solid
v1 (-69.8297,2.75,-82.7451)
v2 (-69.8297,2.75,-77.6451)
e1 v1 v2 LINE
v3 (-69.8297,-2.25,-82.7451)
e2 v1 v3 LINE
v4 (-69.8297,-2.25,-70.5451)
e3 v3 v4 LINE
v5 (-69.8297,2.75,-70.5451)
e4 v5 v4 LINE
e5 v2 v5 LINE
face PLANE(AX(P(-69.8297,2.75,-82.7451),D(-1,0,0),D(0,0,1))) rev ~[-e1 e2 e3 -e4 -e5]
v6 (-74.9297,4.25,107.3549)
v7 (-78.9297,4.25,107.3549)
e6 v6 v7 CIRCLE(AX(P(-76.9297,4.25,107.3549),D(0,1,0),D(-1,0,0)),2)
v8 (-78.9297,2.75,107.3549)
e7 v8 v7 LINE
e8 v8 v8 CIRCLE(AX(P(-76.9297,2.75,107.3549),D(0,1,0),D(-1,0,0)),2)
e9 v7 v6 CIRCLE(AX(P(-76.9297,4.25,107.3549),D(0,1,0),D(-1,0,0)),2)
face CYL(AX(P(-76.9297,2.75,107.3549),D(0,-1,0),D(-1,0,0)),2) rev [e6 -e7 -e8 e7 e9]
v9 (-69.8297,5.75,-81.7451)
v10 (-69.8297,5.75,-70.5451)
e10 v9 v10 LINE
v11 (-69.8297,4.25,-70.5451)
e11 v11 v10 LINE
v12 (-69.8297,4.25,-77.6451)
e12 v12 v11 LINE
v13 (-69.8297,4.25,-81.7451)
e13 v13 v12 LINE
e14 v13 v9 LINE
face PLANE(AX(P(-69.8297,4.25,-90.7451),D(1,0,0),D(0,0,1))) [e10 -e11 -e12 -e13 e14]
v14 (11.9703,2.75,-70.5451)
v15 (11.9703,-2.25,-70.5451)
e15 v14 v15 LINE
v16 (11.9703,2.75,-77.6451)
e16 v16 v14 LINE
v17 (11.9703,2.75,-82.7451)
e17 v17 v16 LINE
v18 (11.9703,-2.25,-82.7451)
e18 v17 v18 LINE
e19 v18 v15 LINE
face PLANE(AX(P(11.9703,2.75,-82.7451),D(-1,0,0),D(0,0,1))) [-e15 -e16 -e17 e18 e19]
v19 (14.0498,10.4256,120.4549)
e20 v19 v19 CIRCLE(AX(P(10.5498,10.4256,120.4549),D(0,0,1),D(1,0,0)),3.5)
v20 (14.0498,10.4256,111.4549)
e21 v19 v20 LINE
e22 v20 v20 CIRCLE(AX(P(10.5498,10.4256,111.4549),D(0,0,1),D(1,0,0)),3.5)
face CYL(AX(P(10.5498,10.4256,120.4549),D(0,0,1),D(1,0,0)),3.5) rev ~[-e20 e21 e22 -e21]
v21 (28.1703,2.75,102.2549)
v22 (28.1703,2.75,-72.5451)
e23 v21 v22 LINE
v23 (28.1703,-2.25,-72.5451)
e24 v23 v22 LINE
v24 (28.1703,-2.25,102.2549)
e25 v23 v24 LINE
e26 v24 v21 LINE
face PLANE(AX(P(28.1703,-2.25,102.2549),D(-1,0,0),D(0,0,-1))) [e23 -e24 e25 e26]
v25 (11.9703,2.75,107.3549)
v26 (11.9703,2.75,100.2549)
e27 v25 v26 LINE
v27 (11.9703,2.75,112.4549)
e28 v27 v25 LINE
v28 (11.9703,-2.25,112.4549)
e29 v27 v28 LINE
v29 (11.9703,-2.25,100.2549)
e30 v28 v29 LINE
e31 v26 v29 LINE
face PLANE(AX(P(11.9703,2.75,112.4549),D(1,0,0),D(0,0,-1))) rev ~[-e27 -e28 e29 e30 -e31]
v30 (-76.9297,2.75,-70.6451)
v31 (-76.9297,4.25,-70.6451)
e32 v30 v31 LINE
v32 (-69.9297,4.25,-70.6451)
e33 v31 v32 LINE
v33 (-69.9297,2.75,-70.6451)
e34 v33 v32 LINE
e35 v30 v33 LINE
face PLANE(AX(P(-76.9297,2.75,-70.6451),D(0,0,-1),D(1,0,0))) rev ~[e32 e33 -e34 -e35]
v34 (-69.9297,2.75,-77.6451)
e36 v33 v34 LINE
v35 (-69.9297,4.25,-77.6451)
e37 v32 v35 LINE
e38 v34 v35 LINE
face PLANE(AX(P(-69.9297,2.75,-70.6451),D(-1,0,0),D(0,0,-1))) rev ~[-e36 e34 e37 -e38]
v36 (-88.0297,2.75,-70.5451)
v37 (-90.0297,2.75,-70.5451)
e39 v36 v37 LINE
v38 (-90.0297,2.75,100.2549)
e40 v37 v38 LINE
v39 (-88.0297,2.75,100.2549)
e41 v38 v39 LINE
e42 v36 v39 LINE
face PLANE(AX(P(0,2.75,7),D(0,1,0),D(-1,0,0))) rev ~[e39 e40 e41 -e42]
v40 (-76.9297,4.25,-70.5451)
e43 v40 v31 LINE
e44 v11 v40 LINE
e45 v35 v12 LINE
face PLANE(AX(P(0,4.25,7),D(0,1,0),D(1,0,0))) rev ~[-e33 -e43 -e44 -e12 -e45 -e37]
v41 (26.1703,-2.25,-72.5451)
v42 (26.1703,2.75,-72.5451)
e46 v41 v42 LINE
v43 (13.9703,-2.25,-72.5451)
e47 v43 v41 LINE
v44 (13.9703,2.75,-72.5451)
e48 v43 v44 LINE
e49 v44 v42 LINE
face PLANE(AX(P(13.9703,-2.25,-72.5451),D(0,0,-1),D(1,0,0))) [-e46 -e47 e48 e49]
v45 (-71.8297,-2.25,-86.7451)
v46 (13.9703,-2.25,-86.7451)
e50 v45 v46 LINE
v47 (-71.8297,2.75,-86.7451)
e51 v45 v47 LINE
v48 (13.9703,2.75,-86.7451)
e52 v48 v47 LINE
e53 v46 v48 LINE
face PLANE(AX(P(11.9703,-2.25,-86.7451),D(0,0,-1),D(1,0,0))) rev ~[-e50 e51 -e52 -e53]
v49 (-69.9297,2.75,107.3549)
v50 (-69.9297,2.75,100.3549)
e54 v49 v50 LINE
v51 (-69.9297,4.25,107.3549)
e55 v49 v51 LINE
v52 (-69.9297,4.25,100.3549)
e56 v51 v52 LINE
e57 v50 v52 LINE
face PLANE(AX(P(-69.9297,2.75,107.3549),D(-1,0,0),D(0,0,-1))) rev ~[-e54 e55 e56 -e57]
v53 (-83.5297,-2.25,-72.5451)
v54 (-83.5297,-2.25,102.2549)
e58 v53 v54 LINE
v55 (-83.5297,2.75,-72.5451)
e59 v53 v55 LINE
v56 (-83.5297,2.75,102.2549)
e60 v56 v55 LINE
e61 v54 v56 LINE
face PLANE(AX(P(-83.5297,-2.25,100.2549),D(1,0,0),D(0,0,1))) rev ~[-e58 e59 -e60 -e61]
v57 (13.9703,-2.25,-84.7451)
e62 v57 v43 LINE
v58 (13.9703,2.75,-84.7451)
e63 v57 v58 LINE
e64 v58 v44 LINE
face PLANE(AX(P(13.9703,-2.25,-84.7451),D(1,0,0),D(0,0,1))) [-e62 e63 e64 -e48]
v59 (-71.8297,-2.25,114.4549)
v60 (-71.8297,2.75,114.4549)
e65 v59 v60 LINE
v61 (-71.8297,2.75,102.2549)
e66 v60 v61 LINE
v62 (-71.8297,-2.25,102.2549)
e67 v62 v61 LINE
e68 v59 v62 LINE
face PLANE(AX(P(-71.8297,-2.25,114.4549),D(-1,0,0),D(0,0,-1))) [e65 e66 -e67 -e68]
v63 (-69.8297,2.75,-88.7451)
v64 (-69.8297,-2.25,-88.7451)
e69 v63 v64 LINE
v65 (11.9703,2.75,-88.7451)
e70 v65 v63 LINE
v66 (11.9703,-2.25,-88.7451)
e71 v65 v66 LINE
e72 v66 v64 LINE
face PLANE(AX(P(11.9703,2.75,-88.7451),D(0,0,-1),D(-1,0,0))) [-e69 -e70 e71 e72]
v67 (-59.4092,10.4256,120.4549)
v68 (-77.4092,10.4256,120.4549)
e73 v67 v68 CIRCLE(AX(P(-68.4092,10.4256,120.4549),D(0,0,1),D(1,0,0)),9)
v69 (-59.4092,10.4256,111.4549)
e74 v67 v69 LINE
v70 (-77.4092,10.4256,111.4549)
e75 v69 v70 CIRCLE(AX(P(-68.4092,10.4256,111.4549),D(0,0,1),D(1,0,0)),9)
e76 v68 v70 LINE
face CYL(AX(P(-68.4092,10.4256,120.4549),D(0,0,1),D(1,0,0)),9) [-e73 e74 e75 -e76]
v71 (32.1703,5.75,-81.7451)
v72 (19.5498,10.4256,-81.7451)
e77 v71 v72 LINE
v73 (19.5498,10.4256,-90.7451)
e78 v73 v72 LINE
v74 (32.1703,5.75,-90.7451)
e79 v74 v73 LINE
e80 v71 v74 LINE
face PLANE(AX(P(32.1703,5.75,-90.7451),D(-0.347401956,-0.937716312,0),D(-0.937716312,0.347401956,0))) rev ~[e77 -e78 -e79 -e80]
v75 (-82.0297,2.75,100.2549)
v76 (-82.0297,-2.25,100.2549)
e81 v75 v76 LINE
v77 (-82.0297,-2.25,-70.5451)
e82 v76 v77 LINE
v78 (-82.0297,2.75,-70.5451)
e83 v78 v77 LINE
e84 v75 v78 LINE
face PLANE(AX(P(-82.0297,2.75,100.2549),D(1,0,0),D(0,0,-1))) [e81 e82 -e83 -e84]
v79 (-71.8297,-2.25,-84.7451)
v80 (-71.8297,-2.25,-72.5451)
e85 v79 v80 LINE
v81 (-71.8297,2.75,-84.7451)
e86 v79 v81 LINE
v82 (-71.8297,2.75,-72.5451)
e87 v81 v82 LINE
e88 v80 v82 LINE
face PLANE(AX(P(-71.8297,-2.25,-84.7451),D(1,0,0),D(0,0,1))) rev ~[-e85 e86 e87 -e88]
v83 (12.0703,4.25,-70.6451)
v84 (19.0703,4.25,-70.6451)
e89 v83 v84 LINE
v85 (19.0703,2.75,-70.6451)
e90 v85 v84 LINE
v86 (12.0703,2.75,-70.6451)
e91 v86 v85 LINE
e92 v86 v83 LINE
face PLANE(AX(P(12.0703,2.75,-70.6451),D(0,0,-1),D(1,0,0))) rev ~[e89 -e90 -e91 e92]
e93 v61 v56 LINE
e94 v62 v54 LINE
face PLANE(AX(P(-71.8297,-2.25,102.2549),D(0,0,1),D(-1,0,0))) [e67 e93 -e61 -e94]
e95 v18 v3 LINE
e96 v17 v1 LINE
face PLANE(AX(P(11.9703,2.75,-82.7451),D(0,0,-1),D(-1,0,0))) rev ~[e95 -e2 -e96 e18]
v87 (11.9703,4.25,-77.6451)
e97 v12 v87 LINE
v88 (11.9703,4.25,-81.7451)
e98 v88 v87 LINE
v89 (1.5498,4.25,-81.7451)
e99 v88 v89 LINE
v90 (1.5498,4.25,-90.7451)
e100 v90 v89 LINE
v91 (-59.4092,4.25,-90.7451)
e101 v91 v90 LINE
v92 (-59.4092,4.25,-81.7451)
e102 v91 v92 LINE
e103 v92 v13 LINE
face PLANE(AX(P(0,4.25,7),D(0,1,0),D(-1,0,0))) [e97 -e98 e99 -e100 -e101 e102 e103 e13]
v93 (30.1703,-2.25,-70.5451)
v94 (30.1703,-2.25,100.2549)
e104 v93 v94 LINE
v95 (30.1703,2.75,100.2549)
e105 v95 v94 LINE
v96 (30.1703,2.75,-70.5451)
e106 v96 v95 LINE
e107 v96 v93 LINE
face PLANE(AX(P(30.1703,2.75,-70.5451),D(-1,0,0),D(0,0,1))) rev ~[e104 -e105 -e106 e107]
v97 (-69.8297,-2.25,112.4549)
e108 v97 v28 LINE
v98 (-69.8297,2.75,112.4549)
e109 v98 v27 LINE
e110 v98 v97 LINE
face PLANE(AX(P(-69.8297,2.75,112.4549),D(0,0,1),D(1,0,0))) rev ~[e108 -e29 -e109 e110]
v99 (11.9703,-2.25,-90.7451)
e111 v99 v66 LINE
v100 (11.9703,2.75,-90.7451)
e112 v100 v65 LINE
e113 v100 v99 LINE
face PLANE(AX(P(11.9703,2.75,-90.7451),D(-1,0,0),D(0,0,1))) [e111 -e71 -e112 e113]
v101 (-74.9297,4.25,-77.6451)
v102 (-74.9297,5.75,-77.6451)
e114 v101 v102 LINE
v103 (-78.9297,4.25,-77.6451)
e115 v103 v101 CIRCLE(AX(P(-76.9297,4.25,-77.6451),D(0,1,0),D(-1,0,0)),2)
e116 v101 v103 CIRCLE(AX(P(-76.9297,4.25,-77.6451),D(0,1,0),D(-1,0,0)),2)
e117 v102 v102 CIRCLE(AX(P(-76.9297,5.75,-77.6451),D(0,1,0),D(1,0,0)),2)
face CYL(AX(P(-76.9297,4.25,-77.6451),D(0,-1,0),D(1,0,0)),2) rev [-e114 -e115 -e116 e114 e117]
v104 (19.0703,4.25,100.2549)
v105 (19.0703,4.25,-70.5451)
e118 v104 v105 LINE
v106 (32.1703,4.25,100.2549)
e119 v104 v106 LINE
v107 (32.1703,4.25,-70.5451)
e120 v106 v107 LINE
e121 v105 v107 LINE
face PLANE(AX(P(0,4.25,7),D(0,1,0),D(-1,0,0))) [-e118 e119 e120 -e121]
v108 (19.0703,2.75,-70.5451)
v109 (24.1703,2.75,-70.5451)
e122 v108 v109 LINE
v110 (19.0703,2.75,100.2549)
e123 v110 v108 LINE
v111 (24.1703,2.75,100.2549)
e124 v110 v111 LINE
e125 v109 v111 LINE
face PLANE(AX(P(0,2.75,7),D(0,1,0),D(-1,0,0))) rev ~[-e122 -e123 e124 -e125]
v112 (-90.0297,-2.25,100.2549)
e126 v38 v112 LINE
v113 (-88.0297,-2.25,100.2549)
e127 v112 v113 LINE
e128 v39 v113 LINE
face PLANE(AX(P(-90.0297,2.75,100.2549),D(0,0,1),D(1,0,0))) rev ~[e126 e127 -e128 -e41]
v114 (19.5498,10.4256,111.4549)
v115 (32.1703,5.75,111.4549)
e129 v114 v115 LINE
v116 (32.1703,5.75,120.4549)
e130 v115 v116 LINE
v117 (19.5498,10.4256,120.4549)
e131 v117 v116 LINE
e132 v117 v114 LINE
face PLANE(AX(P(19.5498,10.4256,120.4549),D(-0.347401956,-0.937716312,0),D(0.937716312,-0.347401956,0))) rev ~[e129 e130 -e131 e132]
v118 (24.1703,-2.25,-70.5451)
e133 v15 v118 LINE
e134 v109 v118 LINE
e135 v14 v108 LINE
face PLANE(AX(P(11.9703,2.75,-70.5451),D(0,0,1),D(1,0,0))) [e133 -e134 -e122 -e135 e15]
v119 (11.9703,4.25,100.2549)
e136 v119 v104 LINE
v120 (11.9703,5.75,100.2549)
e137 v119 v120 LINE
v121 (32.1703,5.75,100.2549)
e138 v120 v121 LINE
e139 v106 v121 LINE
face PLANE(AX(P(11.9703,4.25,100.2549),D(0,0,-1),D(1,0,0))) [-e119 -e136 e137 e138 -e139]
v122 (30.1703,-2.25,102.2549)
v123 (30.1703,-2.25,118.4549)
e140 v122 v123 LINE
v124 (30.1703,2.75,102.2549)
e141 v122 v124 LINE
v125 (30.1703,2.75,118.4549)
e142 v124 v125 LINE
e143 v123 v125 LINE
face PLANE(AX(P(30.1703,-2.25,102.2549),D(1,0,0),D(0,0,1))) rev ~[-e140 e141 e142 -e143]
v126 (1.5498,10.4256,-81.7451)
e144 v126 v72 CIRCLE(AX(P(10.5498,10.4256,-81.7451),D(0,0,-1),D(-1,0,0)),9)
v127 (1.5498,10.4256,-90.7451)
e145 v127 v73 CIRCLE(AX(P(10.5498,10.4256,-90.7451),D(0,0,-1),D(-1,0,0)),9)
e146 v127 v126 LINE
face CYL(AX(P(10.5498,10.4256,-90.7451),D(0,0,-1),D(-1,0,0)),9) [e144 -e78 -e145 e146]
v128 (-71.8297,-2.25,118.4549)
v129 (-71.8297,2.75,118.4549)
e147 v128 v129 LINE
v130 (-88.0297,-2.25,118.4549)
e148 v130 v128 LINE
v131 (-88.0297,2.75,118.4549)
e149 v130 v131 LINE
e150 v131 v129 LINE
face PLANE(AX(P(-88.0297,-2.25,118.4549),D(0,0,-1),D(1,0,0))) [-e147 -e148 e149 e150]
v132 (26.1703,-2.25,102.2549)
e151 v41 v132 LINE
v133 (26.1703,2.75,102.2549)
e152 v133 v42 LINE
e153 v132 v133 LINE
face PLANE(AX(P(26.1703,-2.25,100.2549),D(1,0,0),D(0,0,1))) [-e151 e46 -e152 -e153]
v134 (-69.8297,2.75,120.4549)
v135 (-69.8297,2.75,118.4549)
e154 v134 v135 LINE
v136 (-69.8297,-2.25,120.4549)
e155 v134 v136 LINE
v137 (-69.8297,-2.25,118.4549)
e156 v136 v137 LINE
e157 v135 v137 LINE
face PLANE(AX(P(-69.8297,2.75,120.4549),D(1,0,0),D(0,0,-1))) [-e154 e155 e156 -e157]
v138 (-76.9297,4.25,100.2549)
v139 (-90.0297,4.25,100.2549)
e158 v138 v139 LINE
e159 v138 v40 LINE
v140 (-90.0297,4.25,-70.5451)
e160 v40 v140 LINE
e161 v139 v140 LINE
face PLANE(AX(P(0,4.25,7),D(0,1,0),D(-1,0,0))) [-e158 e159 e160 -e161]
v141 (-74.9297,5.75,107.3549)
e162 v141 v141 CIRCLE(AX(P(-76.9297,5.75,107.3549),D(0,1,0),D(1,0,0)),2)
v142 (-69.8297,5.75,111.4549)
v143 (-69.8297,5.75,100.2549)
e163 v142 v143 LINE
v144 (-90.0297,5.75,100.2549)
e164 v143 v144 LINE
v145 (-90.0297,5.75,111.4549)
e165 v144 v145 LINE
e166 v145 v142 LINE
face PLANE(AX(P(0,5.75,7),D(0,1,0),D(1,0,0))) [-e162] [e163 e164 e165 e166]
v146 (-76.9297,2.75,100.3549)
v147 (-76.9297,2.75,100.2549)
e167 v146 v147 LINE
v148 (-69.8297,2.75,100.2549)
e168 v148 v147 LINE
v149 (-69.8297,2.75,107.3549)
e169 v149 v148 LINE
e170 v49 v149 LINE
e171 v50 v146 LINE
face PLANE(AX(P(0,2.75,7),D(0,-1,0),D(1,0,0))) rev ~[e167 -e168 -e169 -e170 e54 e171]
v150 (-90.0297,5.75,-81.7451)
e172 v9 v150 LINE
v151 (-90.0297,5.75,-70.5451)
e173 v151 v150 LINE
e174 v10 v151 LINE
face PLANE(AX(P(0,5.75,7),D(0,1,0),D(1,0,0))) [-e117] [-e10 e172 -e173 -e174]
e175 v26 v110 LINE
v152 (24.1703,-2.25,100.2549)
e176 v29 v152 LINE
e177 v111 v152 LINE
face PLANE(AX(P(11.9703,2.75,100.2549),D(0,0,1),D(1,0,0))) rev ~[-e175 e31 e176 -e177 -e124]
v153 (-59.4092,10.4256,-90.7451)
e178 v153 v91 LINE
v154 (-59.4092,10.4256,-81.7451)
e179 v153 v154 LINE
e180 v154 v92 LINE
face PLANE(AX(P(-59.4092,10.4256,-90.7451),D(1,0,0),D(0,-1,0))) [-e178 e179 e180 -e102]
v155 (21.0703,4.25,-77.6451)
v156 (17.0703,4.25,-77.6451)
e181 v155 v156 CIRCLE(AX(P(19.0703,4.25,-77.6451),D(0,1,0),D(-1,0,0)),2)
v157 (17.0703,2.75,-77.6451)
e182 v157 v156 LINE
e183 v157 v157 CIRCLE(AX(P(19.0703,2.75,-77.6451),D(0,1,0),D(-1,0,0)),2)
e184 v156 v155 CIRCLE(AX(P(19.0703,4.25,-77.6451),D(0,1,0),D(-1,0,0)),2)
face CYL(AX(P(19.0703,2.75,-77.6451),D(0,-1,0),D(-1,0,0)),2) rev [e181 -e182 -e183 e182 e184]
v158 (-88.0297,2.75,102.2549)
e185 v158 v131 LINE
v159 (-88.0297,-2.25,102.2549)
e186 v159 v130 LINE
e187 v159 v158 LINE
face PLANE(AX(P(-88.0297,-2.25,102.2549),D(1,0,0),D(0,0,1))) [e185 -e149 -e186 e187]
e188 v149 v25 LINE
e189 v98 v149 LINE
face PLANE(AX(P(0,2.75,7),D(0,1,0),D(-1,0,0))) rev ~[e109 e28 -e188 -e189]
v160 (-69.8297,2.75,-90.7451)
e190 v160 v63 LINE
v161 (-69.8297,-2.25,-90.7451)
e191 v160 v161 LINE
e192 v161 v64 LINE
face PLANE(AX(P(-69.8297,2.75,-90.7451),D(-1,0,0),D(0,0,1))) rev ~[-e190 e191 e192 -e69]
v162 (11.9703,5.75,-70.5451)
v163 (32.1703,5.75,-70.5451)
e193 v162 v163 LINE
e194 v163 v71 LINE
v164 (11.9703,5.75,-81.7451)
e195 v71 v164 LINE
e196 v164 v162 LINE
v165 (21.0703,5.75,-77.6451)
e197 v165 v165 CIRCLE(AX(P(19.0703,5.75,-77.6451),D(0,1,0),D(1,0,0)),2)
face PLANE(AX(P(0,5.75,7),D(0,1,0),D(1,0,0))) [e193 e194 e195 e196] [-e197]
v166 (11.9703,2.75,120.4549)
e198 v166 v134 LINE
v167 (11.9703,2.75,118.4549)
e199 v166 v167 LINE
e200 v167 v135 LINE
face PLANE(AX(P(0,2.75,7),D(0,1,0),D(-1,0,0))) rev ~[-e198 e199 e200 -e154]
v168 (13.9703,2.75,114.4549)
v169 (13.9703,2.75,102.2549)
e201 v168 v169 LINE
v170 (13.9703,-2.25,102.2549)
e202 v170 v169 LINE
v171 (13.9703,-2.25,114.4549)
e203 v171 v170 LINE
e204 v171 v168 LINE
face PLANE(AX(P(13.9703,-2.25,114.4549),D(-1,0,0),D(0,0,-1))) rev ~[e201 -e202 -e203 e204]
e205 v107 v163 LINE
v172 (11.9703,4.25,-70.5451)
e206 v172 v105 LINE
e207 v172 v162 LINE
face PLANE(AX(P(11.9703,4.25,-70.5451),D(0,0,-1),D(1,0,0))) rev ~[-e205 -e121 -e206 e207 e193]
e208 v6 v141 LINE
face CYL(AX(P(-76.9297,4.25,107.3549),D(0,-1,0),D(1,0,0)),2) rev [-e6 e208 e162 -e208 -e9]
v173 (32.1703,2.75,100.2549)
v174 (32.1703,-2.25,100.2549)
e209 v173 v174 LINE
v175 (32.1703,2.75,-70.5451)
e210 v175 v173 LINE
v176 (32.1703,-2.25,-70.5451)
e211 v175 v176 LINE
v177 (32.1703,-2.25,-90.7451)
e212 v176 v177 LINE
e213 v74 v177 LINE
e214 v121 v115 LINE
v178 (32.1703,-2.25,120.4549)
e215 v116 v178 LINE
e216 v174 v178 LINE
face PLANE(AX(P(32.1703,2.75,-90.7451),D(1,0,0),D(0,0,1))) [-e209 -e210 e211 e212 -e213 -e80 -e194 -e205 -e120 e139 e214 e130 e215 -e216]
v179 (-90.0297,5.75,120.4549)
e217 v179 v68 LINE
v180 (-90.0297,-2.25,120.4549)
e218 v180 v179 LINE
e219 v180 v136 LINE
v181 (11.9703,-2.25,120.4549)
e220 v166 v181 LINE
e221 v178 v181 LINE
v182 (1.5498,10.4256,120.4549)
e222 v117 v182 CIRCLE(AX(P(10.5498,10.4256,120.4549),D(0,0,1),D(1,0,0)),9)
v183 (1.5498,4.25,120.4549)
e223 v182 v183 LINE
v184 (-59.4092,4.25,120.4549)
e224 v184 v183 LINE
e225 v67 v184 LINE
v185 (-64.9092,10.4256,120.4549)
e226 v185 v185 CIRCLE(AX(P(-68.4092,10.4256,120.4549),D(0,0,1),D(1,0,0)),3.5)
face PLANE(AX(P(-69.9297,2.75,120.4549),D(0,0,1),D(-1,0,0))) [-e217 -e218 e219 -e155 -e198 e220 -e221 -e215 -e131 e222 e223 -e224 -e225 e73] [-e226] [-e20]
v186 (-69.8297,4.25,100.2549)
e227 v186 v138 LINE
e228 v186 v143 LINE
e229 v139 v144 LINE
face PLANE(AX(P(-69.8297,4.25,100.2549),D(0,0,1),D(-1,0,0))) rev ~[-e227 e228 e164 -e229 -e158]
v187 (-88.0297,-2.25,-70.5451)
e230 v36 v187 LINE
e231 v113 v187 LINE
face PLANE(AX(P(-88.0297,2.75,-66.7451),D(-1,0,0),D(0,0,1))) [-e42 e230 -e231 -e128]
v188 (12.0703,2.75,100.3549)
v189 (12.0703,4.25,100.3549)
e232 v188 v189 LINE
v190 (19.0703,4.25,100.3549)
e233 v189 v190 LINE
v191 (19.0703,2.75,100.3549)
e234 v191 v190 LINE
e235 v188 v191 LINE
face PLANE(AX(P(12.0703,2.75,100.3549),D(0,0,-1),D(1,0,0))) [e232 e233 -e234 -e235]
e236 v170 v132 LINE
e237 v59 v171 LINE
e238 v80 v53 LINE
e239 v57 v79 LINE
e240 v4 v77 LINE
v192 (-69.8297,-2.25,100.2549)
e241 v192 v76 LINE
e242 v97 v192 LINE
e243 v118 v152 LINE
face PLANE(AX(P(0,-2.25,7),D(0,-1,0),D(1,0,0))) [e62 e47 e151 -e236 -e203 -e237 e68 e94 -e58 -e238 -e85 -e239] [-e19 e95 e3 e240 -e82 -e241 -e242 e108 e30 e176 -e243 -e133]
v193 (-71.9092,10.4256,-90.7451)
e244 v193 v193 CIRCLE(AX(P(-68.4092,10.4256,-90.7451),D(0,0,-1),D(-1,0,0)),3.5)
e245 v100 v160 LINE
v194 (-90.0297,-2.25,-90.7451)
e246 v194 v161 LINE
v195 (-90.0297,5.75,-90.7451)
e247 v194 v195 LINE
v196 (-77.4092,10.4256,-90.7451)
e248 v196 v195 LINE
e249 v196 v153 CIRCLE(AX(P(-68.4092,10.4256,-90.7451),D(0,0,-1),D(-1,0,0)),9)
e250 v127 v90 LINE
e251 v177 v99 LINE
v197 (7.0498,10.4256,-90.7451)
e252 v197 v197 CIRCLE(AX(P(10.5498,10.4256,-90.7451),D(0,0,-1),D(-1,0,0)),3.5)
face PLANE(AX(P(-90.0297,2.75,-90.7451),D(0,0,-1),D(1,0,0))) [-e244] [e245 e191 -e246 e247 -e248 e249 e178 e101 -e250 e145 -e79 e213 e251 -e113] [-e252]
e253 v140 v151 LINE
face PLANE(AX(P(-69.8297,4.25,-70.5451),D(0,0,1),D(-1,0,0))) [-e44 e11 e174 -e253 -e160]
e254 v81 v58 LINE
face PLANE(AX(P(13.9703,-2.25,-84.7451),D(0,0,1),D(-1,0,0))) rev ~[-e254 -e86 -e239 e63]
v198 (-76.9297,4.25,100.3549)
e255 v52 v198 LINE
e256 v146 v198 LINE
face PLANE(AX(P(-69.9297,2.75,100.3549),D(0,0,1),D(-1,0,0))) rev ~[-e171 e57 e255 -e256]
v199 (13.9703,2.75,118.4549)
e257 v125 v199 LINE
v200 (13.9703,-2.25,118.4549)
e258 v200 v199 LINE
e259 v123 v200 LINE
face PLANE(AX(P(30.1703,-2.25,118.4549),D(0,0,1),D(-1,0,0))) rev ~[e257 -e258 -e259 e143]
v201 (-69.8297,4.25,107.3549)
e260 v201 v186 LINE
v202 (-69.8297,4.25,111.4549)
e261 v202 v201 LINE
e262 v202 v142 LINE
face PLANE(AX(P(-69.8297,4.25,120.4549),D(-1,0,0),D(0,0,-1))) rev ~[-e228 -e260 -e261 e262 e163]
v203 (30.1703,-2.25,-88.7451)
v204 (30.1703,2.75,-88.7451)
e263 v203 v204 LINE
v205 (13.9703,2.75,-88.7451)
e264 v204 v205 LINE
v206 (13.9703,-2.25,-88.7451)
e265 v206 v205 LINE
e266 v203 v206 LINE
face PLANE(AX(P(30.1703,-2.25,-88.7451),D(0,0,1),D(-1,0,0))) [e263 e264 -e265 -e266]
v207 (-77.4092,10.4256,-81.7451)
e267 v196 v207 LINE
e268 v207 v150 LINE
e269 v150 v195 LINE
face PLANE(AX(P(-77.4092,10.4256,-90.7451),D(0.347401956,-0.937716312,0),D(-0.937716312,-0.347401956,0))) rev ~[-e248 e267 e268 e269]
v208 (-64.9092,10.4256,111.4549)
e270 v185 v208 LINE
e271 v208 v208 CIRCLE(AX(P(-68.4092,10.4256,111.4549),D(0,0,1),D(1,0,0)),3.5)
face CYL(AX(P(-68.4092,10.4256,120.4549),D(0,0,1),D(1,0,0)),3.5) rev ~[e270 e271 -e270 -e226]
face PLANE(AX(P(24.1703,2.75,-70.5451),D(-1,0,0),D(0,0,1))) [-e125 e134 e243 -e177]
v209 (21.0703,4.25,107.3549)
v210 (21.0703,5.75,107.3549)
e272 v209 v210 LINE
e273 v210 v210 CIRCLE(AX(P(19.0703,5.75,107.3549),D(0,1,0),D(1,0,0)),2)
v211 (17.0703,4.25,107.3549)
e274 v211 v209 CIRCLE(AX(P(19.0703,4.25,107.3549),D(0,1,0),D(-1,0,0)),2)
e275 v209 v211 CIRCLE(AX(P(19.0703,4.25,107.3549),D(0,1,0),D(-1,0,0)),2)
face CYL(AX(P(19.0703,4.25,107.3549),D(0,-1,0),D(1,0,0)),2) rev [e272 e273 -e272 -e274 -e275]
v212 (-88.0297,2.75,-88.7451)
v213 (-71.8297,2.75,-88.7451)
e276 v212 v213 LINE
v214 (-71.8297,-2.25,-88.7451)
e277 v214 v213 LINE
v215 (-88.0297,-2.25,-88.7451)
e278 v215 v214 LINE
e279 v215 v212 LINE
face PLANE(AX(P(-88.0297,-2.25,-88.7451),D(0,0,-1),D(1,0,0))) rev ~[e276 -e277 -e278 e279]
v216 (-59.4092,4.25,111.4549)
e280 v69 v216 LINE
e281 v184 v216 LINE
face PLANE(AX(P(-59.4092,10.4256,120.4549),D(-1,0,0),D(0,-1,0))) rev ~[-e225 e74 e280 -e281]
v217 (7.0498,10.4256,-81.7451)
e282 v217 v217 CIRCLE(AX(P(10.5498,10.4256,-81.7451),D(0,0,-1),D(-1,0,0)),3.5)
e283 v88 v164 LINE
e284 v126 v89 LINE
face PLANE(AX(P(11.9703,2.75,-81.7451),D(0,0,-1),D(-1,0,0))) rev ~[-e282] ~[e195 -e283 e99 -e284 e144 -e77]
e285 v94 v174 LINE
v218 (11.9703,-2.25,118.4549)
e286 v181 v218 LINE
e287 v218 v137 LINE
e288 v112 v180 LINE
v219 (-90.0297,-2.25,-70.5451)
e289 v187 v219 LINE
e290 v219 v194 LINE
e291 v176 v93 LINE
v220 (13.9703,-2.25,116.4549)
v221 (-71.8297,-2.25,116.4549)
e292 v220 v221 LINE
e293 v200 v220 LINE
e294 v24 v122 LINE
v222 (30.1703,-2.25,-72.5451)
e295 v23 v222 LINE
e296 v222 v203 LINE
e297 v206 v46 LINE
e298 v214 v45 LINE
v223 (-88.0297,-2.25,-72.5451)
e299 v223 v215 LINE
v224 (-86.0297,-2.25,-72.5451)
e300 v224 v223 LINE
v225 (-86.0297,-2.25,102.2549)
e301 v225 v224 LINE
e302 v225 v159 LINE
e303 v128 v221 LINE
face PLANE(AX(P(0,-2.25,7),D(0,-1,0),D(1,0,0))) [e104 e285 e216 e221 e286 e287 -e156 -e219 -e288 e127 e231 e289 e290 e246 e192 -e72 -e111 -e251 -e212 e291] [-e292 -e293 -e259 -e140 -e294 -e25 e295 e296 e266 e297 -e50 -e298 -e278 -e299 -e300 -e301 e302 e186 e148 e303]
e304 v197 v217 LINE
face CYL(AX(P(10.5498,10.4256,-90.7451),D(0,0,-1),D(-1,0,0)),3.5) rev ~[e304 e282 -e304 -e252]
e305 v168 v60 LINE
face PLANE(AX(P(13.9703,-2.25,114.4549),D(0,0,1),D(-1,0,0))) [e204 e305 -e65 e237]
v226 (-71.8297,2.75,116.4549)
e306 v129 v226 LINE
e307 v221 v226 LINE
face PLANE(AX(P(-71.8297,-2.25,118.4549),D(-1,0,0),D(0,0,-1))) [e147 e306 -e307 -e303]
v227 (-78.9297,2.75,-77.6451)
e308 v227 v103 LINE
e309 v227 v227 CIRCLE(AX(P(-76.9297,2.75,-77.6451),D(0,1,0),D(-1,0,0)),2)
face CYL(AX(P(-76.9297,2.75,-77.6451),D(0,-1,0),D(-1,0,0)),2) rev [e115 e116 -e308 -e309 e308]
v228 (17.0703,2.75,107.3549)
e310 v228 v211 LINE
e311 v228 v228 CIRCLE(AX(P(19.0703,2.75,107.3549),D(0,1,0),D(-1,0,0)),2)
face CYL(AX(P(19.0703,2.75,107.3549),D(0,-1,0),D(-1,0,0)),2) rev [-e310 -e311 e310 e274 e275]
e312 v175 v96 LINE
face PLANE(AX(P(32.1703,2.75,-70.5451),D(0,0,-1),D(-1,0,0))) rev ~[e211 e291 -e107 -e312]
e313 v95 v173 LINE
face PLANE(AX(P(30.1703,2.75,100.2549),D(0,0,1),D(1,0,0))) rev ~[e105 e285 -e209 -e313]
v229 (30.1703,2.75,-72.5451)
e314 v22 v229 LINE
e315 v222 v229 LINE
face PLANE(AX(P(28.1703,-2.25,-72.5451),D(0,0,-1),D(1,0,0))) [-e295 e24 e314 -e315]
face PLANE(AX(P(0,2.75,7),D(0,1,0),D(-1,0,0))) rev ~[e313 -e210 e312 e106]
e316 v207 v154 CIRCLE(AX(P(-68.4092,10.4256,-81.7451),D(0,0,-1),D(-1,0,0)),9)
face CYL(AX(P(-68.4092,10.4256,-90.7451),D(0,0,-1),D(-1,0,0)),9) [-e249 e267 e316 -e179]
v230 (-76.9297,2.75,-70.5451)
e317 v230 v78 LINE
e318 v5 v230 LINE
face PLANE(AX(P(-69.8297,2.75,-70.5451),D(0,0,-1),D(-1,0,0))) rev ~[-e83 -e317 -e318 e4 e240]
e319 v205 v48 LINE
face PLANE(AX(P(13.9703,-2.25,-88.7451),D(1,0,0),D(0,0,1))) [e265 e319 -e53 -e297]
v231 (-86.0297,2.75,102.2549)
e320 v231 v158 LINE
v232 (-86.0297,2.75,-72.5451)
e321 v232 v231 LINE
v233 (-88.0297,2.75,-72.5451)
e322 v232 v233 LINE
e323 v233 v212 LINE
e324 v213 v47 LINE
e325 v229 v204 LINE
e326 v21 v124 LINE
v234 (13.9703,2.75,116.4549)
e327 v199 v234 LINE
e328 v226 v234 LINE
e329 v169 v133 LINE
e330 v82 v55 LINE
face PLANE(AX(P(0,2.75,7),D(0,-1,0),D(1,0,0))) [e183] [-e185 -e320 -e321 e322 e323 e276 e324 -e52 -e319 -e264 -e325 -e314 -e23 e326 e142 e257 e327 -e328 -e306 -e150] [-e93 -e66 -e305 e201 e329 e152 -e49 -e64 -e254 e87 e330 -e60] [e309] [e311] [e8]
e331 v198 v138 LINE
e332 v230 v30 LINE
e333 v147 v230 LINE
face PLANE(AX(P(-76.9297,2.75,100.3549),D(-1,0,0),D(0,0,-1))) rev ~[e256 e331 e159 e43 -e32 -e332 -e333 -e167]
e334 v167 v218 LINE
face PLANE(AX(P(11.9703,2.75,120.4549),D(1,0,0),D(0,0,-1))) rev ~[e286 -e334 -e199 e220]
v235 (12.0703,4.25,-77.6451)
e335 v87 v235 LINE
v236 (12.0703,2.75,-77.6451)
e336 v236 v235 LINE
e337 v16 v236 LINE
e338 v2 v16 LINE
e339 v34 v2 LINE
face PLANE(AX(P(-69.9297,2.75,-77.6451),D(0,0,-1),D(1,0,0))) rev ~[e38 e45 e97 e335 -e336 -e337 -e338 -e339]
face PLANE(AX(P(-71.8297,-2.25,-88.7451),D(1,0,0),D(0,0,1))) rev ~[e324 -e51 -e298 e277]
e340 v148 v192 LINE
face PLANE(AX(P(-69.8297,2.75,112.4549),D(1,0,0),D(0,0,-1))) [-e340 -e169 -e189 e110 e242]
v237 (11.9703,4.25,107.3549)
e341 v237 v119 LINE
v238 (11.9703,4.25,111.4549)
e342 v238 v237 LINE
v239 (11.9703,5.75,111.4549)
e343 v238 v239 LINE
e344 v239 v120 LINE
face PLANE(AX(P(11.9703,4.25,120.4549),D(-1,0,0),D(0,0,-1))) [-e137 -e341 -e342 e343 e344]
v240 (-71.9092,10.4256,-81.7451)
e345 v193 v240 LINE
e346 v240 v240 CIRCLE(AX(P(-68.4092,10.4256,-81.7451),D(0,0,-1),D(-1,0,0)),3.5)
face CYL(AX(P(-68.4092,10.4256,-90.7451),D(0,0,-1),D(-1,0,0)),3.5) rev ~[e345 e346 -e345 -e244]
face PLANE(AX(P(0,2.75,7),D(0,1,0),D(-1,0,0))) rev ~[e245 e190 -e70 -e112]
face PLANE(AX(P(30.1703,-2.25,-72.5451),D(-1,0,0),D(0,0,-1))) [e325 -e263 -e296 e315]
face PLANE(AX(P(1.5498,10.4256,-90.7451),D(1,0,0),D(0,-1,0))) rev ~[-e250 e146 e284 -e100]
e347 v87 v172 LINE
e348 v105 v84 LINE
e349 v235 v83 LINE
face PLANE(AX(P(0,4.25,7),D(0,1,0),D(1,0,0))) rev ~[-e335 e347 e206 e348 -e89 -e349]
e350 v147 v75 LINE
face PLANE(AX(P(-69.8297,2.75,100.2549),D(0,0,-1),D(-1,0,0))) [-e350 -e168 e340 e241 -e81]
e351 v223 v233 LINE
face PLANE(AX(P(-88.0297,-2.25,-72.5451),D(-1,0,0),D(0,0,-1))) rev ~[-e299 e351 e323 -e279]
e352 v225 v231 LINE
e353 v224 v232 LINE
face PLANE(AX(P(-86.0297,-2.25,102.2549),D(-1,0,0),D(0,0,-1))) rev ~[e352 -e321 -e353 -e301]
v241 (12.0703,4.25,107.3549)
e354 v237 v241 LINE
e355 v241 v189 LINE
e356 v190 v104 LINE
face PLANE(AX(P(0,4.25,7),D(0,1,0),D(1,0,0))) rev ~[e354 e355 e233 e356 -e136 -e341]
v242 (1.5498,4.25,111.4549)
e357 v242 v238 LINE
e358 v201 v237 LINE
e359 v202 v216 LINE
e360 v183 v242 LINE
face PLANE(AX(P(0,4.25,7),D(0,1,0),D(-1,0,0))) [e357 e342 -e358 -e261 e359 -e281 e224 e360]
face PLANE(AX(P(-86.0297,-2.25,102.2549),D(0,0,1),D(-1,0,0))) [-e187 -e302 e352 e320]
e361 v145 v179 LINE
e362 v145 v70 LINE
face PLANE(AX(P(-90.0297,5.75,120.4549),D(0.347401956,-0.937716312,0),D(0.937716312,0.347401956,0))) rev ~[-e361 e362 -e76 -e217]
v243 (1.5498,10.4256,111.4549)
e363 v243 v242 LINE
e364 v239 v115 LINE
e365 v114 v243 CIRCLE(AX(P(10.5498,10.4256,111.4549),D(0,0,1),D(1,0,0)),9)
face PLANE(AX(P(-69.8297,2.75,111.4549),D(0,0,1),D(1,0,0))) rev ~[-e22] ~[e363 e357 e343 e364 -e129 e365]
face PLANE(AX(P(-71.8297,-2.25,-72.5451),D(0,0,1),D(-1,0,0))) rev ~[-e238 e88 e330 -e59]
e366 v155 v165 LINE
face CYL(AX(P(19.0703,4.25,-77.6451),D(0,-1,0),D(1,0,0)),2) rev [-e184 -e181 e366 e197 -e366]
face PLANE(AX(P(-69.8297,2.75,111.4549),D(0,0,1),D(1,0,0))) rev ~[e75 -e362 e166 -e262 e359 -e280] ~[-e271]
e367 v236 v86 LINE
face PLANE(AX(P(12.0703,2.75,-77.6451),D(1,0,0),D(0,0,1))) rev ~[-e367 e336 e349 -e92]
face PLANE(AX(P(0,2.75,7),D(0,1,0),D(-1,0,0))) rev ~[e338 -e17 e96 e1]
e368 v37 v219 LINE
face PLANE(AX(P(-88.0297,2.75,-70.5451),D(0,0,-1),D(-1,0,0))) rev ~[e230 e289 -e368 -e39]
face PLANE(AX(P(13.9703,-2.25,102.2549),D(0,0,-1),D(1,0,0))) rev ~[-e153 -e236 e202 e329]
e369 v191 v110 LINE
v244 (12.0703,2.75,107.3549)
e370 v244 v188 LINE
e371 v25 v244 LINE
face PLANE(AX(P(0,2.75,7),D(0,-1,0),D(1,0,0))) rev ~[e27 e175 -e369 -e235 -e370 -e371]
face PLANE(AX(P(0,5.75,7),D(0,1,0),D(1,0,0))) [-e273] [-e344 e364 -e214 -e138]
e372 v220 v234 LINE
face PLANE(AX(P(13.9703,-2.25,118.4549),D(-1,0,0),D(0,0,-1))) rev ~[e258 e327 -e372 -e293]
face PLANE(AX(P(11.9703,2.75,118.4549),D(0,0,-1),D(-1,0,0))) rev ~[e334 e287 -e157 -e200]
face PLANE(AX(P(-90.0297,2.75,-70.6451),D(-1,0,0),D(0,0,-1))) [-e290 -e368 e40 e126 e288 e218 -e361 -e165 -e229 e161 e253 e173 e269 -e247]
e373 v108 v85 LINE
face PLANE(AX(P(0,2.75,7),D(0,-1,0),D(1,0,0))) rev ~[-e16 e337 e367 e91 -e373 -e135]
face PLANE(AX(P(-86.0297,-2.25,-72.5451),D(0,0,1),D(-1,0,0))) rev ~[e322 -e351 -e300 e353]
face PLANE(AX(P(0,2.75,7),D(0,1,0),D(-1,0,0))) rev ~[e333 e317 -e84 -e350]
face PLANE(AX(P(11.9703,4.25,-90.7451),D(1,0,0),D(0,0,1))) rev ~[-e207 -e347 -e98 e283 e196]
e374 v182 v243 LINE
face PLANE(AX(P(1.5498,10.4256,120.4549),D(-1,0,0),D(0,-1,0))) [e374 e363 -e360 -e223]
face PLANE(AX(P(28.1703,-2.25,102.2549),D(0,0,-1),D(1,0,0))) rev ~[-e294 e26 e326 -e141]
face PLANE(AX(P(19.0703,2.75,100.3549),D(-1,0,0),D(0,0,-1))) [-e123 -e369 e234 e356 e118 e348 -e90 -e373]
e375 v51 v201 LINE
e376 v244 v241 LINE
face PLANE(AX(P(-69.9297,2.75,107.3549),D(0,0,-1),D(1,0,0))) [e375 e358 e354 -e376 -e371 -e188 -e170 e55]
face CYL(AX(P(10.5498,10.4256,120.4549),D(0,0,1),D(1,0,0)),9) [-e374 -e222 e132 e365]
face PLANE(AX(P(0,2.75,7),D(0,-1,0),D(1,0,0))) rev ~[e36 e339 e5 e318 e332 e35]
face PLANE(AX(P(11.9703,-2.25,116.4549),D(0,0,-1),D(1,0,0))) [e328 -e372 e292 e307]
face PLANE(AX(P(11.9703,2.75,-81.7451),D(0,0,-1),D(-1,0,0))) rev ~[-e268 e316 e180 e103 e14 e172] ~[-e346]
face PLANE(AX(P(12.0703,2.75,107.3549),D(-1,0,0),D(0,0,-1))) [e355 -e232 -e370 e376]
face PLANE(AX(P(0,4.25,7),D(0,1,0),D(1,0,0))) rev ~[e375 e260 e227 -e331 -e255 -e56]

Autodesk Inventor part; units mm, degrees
ref_plane "YZ Plane" through (0, 0, 0) normal (1, 0, 0) x (0, 1, 0)
ref_plane "XZ Plane" through (0, 0, 0) normal (0, 1, 0) x (-1, 0, 0)
ref_plane "Main Work Pane" through (0, 2.75, 7) normal (0, 1, 0) x (-1, 0, 0)
sketch "Panel" plane through (0, 2.75, 7) normal (0, 1, 0) x (-1, 0, 0)
  line L0 (90.0297, -97.7451) -> (-32.1703, -97.7451)
  line L1 (-32.1703, -97.7451) -> (-32.1703, 113.4549)
  line L2 (-32.1703, 113.4549) -> (90.0297, 113.4549)
  line L3 (90.0297, 113.4549) -> (90.0297, -97.7451)
  line L4 (71.9297, 95.3549) -> (88.0297, 95.3549)
  line L5 (88.0297, 95.3549) -> (88.0297, 111.4549)
  line L6 (88.0297, 111.4549) -> (71.9297, 111.4549)
  line L7 (71.9297, 111.4549) -> (71.9297, 95.3549)
  line L8 (69.9297, 113.4549) -> (69.9297, 93.3549)
  line L9 (69.9297, 93.3549) -> (90.0297, 93.3549)
  line L10 (88.0297, -95.7451) -> (71.9297, -95.7451)
  line L11 (71.9297, -95.7451) -> (71.9297, -79.6451)
  line L12 (71.9297, -79.6451) -> (88.0297, -79.6451)
  line L13 (88.0297, -79.6451) -> (88.0297, -95.7451)
  line L14 (90.0297, -77.6451) -> (69.9297, -77.6451)
  line L15 (69.9297, -77.6451) -> (69.9297, -97.7451)
  line L16 (-30.1703, -95.7451) -> (-14.0703, -95.7451)
  line L17 (-14.0703, -95.7451) -> (-14.0703, -79.6451)
  line L18 (-14.0703, -79.6451) -> (-30.1703, -79.6451)
  line L19 (-30.1703, -79.6451) -> (-30.1703, -95.7451)
  line L20 (-12.0703, -97.7451) -> (-12.0703, -77.6451)
  line L21 (-12.0703, -77.6451) -> (-32.1703, -77.6451)
  line L22 (-14.0703, 95.3549) -> (-30.1703, 95.3549)
  line L23 (-30.1703, 95.3549) -> (-30.1703, 111.4549)
  line L24 (-30.1703, 111.4549) -> (-14.0703, 111.4549)
  line L25 (-14.0703, 111.4549) -> (-14.0703, 95.3549)
  line L26 (-12.0703, 113.4549) -> (-12.0703, 93.3549)
  line L27 (-12.0703, 93.3549) -> (-32.1703, 93.3549)
  circle A0 centre (76.9297, 100.3549) radius 2
  circle A1 centre (-19.0703, 100.3549) radius 2
  circle A2 centre (76.9297, -84.6451) radius 2
  circle A3 centre (-19.0703, -84.6451) radius 2
  line L28 (-19.0703, -84.6451) -> (-14.0703, -84.6451) construction
  line L29 (-19.0703, -84.6451) -> (-19.0703, -79.6451) construction
  line L30 (76.9297, -84.6451) -> (71.9297, -84.6451) construction
  line L31 (76.9297, -84.6451) -> (76.9297, -79.6451) construction
  line L32 (76.9297, 100.3549) -> (76.9297, 95.3549) construction
  line L33 (76.9297, 100.3549) -> (71.9297, 100.3549) construction
  line L34 (-19.0703, 100.3549) -> (-14.0703, 100.3549) construction
  line L35 (-19.0703, 100.3549) -> (-19.0703, 95.3549) construction
  line L36 (69.9297, 100.3549) -> (-12.0703, 100.3549)
  line L37 (76.9297, 93.3549) -> (76.9297, -77.6451)
  line L38 (69.9297, -84.6451) -> (-12.0703, -84.6451)
  line L39 (-19.0703, 93.3549) -> (-19.0703, -77.6451)
  dimension "d584" = 2
  dimension "d585" = 2
  dimension "d586" = 2
  dimension "d587" = 2
  dimension "d588" = 16.1
  dimension "d589" = 16.1
  dimension "d592" = 2
  dimension "d593" = 4
  dimension "d597" = 2
  dimension "d648" = 2
  dimension "d661" = 5
  dimension "d670" = 175
  dimension "d671" = 86
  dimension "d682" = 211.2
  dimension "d687" = 122.2
extrude "FlatPlane" add sketch "Panel" along normal blind 1.5 contours L0 L15 L14 L3 | L0 L20 L38 L15 | L14 L37 L9 L3 | L0 L1 L21 L20 | L9 L8 L2 L3 | L1 L27 L39 L21 | L8 L36 L26 L2 | L1 L2 L26 L27 | L7 L6 L5 L4 | L10 L11 L12 L13 | L19 L18 L17 L16 | L22 L23 L24 L25
sketch "BoardSuport" plane through (0, 2.75, 7) normal (0, -1, 0) x (1, 0, 0)
  line L0 (-90.0297, 113.4549) -> (-69.8297, 113.4549)
  line L1 (-69.8297, 113.4549) -> (-69.8297, 111.4549)
  line L2 (-69.8297, 93.2549) -> (-82.0297, 93.2549)
  line L3 (-90.0297, 93.2549) -> (-90.0297, 113.4549)
  line L4 (32.1703, 113.4549) -> (11.9703, 113.4549)
  line L5 (11.9703, 113.4549) -> (11.9703, 111.4549)
  line L6 (11.9703, 93.2549) -> (24.1703, 93.2549)
  line L7 (32.1703, 93.2549) -> (32.1703, 113.4549)
  line L8 (-90.0297, -97.7451) -> (-69.8297, -97.7451)
  line L9 (-69.8297, -97.7451) -> (-69.8297, -77.5451)
  line L10 (-69.8297, -77.5451) -> (-82.0297, -77.5451)
  line L11 (-90.0297, -77.5451) -> (-90.0297, -97.7451)
  line L12 (32.1703, -97.7451) -> (11.9703, -97.7451)
  line L13 (11.9703, -97.7451) -> (11.9703, -95.7451)
  line L14 (11.9703, -77.5451) -> (24.1703, -77.5451)
  line L15 (32.1703, -77.5451) -> (32.1703, -97.7451)
  line L16 (-90.0297, 93.2549) -> (-88.0297, 93.2549)
  line L17 (-82.0297, 93.2549) -> (-82.0297, -77.5451)
  line L18 (-82.0297, -77.5451) -> (-88.0297, -77.5451)
  line L19 (-90.0297, -77.5451) -> (-90.0297, 93.2549) construction
  line L20 (-69.8297, -97.7451) -> (11.9703, -97.7451) construction
  line L21 (11.9703, -97.7451) -> (11.9703, -89.7451)
  line L22 (11.9703, -89.7451) -> (-69.8297, -89.7451)
  line L23 (-69.8297, -89.7451) -> (-69.8297, -97.7451)
  line L24 (32.1703, -77.5451) -> (30.1703, -77.5451)
  line L25 (24.1703, -77.5451) -> (24.1703, 93.2549)
  line L26 (24.1703, 93.2549) -> (30.1703, 93.2549)
  line L27 (32.1703, 93.2549) -> (32.1703, -77.5451) construction
  line L28 (11.9703, 113.4549) -> (-69.8297, 113.4549) construction
  line L29 (-69.8297, 113.4549) -> (-69.8297, 111.4549)
  line L30 (-69.8297, 105.4549) -> (11.9703, 105.4549)
  line L31 (11.9703, 105.4549) -> (11.9703, 111.4549)
  line L32 (11.9703, -95.7451) -> (-69.8297, -95.7451)
  line L33 (-88.0297, -77.5451) -> (-88.0297, -73.7451)
  line L34 (11.9703, 111.4549) -> (-69.8297, 111.4549)
  line L35 (32.1703, -97.7451) -> (-90.0297, -97.7451) projected
  line L36 (30.1703, -77.5451) -> (30.1703, 93.2549)
  line L37 (-82.0297, -77.5451) -> (-88.0297, -77.5451)
  line L38 (-88.0297, -77.5451) -> (-90.0297, -77.5451)
  line L39 (-69.8297, 105.4549) -> (-69.8297, 93.2549)
  line L40 (-69.8297, 111.4549) -> (-69.8297, 105.4549)
  line L41 (24.1703, 93.2549) -> (30.1703, 93.2549)
  line L42 (30.1703, 93.2549) -> (32.1703, 93.2549)
  line L43 (11.9703, -95.7451) -> (11.9703, -89.7451)
  line L44 (11.9703, -89.7451) -> (11.9703, -77.5451)
  line L45 (30.1703, 93.2549) -> (32.1703, 93.2549)
  line L46 (-88.0297, -73.7451) -> (-88.0297, 93.2549)
  line L47 (-88.0297, 93.2549) -> (-90.0297, 93.2549)
  line L48 (-82.0297, 93.2549) -> (-88.0297, 93.2549)
  line L49 (11.9703, 105.4549) -> (11.9703, 93.2549)
  line L50 (11.9703, 111.4549) -> (11.9703, 105.4549)
  line L51 (30.1703, -77.5451) -> (24.1703, -77.5451)
  line L52 (24.1703, -77.5451) -> (32.1703, -77.5451)
  line L53 (-88.0297, -77.5451) -> (-90.0297, -77.5451)
  line L54 (-88.0297, 93.2549) -> (-82.0297, 93.2549)
  line L55 (11.9703, 111.4549) -> (11.9703, 113.4549)
  line L56 (-69.8297, 111.4549) -> (-69.8297, 105.4549)
  dimension "d617" = 20.2
  dimension "d658" = 2
  dimension "d659" = 6
  dimension "d660" = 20.2
extrude "BoardSupport3D" add sketch "BoardSuport" along normal blind 5 contours L0 L1 L40 L39 L2 L48 L16 L3 | L34 L31 L30 L40 | L48 L17 L18 L33 L46 | L5 L4 L7 L42 L26 L6 L49 L31 | L18 L10 L9 L8 L11 L38 | L26 L36 L51 L25 | L22 L21 L32 L9 | L51 L24 L15 L12 L13 L21 L44 L14
sketch "Lens and screwcover" plane through (0, 4.25, 7) normal (0, 1, 0) x (1, 0, 0)
  line L0 (32.1703, 97.7451) -> (11.9703, 97.7451)
  line L1 (11.9703, 97.7451) -> (11.9703, 77.5451)
  line L2 (11.9703, 77.5451) -> (32.1703, 77.5451)
  line L3 (32.1703, 77.5451) -> (32.1703, 97.7451)
  line L4 (-90.0297, 97.7451) -> (-69.8297, 97.7451)
  line L5 (-69.8297, 97.7451) -> (-69.8297, 77.5451)
  line L6 (-69.8297, 77.5451) -> (-90.0297, 77.5451)
  line L7 (-90.0297, 77.5451) -> (-90.0297, 97.7451)
  line L8 (-90.0297, -113.4549) -> (-69.8297, -113.4549)
  line L9 (-69.8297, -113.4549) -> (-69.8297, -93.2549)
  line L10 (-69.8297, -93.2549) -> (-90.0297, -93.2549)
  line L11 (-90.0297, -93.2549) -> (-90.0297, -113.4549)
  line L12 (32.1703, -113.4549) -> (11.9703, -113.4549)
  line L13 (11.9703, -113.4549) -> (11.9703, -93.2549)
  line L14 (11.9703, -93.2549) -> (32.1703, -93.2549)
  line L15 (32.1703, -93.2549) -> (32.1703, -113.4549)
  circle A0 centre (-76.9297, 84.6451) radius 2 projected
  circle A1 centre (-76.9297, 84.6451) radius 2
  circle A2 centre (19.0703, 84.6451) radius 2 projected
  circle A3 centre (19.0703, 84.6451) radius 2
  circle A4 centre (19.0703, -100.3549) radius 2 projected
  circle A5 centre (19.0703, -100.3549) radius 2
  circle A6 centre (-76.9297, -100.3549) radius 2 projected
  circle A7 centre (-76.9297, -100.3549) radius 2
  dimension "d600" = 20.2
  dimension "d601" = 20.2
extrude "Extrusion15" add sketch "Lens and screwcover" along normal blind 1.5
sketch "Sketch20" plane through (0, -2.25, 7) normal (0, -1, 0) x (1, 0, 0)
  line L0 (32.1703, 93.2549) -> (32.1703, 113.4549)
  line L1 (32.1703, 113.4549) -> (11.9703, 113.4549)
  line L2 (-69.8297, 93.2549) -> (-90.0297, 93.2549)
  line L3 (-90.0297, 93.2549) -> (-90.0297, 113.4549)
  line L4 (-90.0297, 113.4549) -> (-69.8297, 113.4549)
  line L5 (-69.8297, 113.4549) -> (-69.8297, 93.2549)
  line L6 (32.1703, -97.7451) -> (11.9703, -97.7451)
  line L7 (11.9703, -97.7451) -> (11.9703, -77.5451)
  line L8 (11.9703, -77.5451) -> (32.1703, -77.5451)
  line L9 (32.1703, -77.5451) -> (32.1703, -97.7451)
  line L10 (-69.8297, -77.5451) -> (-90.0297, -77.5451)
  line L11 (-90.0297, -77.5451) -> (-90.0297, -97.7451)
  line L12 (-90.0297, -97.7451) -> (-69.8297, -97.7451)
  line L13 (-69.8297, -97.7451) -> (-69.8297, -77.5451)
  line L14 (13.9703, 95.2549) -> (30.1703, 95.2549)
  line L15 (30.1703, 95.2549) -> (30.1703, 111.4549)
  line L16 (30.1703, 111.4549) -> (13.9703, 111.4549)
  line L17 (13.9703, 111.4549) -> (13.9703, 95.2549)
  line L18 (-71.8297, 95.2549) -> (-88.0297, 95.2549)
  line L19 (-88.0297, 95.2549) -> (-88.0297, 111.4549)
  line L20 (-88.0297, 111.4549) -> (-71.8297, 111.4549)
  line L21 (-71.8297, 111.4549) -> (-71.8297, 95.2549)
  line L22 (-88.0297, -95.7451) -> (-71.8297, -95.7451)
  line L23 (-71.8297, -95.7451) -> (-71.8297, -79.5451)
  line L24 (-71.8297, -79.5451) -> (-88.0297, -79.5451)
  line L25 (-88.0297, -79.5451) -> (-88.0297, -95.7451)
  line L26 (30.1703, -95.7451) -> (13.9703, -95.7451)
  line L27 (13.9703, -95.7451) -> (13.9703, -79.5451)
  line L28 (13.9703, -79.5451) -> (30.1703, -79.5451)
  line L29 (30.1703, -79.5451) -> (30.1703, -95.7451)
  line L30 (-86.0297, 95.2549) -> (-86.0297, -79.5451)
  line L31 (-83.5297, -79.5451) -> (-83.5297, 95.2549)
  line L32 (-71.8297, 109.4549) -> (13.9703, 109.4549)
  line L33 (13.9703, 107.4549) -> (-71.8297, 107.4549)
  line L34 (-71.8297, -93.7451) -> (13.9703, -93.7451)
  line L35 (13.9703, -91.7451) -> (-71.8297, -91.7451)
  line L36 (28.1703, 95.2549) -> (28.1703, -79.5451)
  line L37 (26.1703, -79.5451) -> (26.1703, 95.2549)
  line L38 (11.9703, 93.2549) -> (11.9703, 113.4549)
  line L39 (11.9703, 113.4549) -> (11.9703, 93.2549)
  line L40 (11.9703, 93.2549) -> (32.1703, 93.2549)
  point P0 (0, -7)
  dimension "d620" = 2
  dimension "d621" = 2
  dimension "d622" = 2
  dimension "d623" = 2
  dimension "d626" = 20.2
  dimension "d627" = 20.2
  dimension "d630" = 2
  dimension "d631" = 2.5
  dimension "d632" = 2
  dimension "d633" = 2
  dimension "d634" = 2
  dimension "d635" = 2
  dimension "d636" = 2
  dimension "d637" = 2
  dimension "d652" = 207.2
  dimension "d653" = 174.8
  dimension "d654" = 118.2
  dimension "d668" = 2
  dimension "d669" = 2
extrude "Extrusion17" cut sketch "Sketch20" against normal blind 5 contours L40 L37 L14 L36 | L36 L8 L37 L40 | L14 L17 L16 L15 | L36 L28 L37 L8 | L38 L33 L5 L32 | L32 L17 L33 L38 | L28 L29 L26 L27 | L5 L33 L21 L32 | L21 L18 L19 L20 | L35 L27 L34 L7 | L7 L34 L13 L35 | L13 L34 L23 L35 | L31 L10 L30 L2 | L2 L30 L18 L31 | L23 L22 L25 L24 | L31 L24 L30 L10
sketch "Sketch22" plane through (-69.8297, 2.75, 120.4549) normal (0, 0, 1) x (1, 0, 0)
  line L0 (-20.2, 1.5) -> (-20.2, 7.6756) construction
  line L1 (102, 7.6756) -> (102, 1.5) construction
  line L2 (-20.2, 1.5) -> (102, 1.5)
  line L3 (1.4205, 7.6756) -> (80.3795, 7.6756) construction
  circle A0 centre (1.4205, 7.6756) radius 3.5
  circle A1 centre (80.3795, 7.6756) radius 3.5
  line L4 (1.4205, 7.6756) -> (-20.2, 7.6756) construction
  line L5 (80.3795, 7.6756) -> (102, 7.6756) construction
  arc A2 (10.4205, 7.6756) -> (-7.5795, 7.6756) centre (1.4205, 7.6756) ccw
  arc A3 (89.3795, 7.6756) -> (71.3795, 7.6756) centre (80.3795, 7.6756) ccw
  line L6 (10.4205, 7.6756) -> (10.4205, 1.5)
  line L7 (71.3795, 7.6756) -> (71.3795, 1.5)
  line L8 (0, 1.5) -> (81.8, 1.5) projected
  line L9 (-20.2, 3) -> (-20.2, -5) projected
  line L10 (102, 3) -> (102, -5) projected
  line L11 (89.3795, 7.6756) -> (89.3795, 3)
  line L12 (-20.2, 3) -> (-7.5795, 7.6756)
  line L13 (89.3795, 7.6756) -> (102, 3)
  line L14 (-20.2, 1.5) -> (10.4205, 1.5)
  line L15 (-20.2, 3) -> (-20.2, 1.5)
  line L16 (0, 3) -> (-20.2, 3) projected
  line L17 (102, 3) -> (102, 1.5)
  line L18 (102, 1.5) -> (71.3795, 1.5)
  point P0 (171.8029, 0.2464)
  point P1 (191, 3)
  dimension "d673" = 7
  dimension "d679" = 9
extrude "Extrusion18" add sketch "Sketch22" against normal blind 9
sketch "Sketch23" plane through (11.9703, 2.75, -90.7451) normal (0, 0, -1) x (-1, 0, 0)
  line L0 (-20.2, 1.5) -> (-20.2, 7.6756) construction
  line L1 (102, 7.6756) -> (102, 1.5) construction
  line L2 (-20.2, 1.5) -> (102, 1.5)
  line L3 (1.4205, 7.6756) -> (80.3795, 7.6756) construction
  circle A0 centre (1.4205, 7.6756) radius 3.5
  circle A1 centre (80.3795, 7.6756) radius 3.5
  line L4 (1.4205, 7.6756) -> (-20.2, 7.6756) construction
  line L5 (80.3795, 7.6756) -> (102, 7.6756) construction
  arc A2 (10.4205, 7.6756) -> (-7.5795, 7.6756) centre (1.4205, 7.6756) ccw
  arc A3 (89.3795, 7.6756) -> (71.3795, 7.6756) centre (80.3795, 7.6756) ccw
  line L6 (10.4205, 7.6756) -> (10.4205, 1.5)
  line L7 (71.3795, 7.6756) -> (71.3795, 1.5)
  line L8 (0, 1.5) -> (81.8, 1.5)
  line L9 (-20.2, 3) -> (-20.2, -5)
  line L10 (102, 3) -> (102, -5)
  line L11 (89.3795, 7.6756) -> (89.3795, 3)
  line L12 (-20.2, 3) -> (-7.5795, 7.6756)
  line L13 (89.3795, 7.6756) -> (102, 3)
  line L14 (-20.2, 1.5) -> (10.4205, 1.5)
  line L15 (-20.2, 3) -> (-20.2, 1.5)
  line L16 (0, 3) -> (-20.2, 3)
  line L17 (102, 3) -> (102, 1.5)
  line L18 (102, 1.5) -> (71.3795, 1.5)
  point P0 (11.9703, -2.75)
  point P1 (171.8029, 0.2464)
  point P2 (191, 3)
  dimension "d683" = 7
  dimension "d684" = 9
extrude "Extrusion19" add sketch "Sketch23" against normal blind 9
properties part number "Lid2" material "NylonD2W"
